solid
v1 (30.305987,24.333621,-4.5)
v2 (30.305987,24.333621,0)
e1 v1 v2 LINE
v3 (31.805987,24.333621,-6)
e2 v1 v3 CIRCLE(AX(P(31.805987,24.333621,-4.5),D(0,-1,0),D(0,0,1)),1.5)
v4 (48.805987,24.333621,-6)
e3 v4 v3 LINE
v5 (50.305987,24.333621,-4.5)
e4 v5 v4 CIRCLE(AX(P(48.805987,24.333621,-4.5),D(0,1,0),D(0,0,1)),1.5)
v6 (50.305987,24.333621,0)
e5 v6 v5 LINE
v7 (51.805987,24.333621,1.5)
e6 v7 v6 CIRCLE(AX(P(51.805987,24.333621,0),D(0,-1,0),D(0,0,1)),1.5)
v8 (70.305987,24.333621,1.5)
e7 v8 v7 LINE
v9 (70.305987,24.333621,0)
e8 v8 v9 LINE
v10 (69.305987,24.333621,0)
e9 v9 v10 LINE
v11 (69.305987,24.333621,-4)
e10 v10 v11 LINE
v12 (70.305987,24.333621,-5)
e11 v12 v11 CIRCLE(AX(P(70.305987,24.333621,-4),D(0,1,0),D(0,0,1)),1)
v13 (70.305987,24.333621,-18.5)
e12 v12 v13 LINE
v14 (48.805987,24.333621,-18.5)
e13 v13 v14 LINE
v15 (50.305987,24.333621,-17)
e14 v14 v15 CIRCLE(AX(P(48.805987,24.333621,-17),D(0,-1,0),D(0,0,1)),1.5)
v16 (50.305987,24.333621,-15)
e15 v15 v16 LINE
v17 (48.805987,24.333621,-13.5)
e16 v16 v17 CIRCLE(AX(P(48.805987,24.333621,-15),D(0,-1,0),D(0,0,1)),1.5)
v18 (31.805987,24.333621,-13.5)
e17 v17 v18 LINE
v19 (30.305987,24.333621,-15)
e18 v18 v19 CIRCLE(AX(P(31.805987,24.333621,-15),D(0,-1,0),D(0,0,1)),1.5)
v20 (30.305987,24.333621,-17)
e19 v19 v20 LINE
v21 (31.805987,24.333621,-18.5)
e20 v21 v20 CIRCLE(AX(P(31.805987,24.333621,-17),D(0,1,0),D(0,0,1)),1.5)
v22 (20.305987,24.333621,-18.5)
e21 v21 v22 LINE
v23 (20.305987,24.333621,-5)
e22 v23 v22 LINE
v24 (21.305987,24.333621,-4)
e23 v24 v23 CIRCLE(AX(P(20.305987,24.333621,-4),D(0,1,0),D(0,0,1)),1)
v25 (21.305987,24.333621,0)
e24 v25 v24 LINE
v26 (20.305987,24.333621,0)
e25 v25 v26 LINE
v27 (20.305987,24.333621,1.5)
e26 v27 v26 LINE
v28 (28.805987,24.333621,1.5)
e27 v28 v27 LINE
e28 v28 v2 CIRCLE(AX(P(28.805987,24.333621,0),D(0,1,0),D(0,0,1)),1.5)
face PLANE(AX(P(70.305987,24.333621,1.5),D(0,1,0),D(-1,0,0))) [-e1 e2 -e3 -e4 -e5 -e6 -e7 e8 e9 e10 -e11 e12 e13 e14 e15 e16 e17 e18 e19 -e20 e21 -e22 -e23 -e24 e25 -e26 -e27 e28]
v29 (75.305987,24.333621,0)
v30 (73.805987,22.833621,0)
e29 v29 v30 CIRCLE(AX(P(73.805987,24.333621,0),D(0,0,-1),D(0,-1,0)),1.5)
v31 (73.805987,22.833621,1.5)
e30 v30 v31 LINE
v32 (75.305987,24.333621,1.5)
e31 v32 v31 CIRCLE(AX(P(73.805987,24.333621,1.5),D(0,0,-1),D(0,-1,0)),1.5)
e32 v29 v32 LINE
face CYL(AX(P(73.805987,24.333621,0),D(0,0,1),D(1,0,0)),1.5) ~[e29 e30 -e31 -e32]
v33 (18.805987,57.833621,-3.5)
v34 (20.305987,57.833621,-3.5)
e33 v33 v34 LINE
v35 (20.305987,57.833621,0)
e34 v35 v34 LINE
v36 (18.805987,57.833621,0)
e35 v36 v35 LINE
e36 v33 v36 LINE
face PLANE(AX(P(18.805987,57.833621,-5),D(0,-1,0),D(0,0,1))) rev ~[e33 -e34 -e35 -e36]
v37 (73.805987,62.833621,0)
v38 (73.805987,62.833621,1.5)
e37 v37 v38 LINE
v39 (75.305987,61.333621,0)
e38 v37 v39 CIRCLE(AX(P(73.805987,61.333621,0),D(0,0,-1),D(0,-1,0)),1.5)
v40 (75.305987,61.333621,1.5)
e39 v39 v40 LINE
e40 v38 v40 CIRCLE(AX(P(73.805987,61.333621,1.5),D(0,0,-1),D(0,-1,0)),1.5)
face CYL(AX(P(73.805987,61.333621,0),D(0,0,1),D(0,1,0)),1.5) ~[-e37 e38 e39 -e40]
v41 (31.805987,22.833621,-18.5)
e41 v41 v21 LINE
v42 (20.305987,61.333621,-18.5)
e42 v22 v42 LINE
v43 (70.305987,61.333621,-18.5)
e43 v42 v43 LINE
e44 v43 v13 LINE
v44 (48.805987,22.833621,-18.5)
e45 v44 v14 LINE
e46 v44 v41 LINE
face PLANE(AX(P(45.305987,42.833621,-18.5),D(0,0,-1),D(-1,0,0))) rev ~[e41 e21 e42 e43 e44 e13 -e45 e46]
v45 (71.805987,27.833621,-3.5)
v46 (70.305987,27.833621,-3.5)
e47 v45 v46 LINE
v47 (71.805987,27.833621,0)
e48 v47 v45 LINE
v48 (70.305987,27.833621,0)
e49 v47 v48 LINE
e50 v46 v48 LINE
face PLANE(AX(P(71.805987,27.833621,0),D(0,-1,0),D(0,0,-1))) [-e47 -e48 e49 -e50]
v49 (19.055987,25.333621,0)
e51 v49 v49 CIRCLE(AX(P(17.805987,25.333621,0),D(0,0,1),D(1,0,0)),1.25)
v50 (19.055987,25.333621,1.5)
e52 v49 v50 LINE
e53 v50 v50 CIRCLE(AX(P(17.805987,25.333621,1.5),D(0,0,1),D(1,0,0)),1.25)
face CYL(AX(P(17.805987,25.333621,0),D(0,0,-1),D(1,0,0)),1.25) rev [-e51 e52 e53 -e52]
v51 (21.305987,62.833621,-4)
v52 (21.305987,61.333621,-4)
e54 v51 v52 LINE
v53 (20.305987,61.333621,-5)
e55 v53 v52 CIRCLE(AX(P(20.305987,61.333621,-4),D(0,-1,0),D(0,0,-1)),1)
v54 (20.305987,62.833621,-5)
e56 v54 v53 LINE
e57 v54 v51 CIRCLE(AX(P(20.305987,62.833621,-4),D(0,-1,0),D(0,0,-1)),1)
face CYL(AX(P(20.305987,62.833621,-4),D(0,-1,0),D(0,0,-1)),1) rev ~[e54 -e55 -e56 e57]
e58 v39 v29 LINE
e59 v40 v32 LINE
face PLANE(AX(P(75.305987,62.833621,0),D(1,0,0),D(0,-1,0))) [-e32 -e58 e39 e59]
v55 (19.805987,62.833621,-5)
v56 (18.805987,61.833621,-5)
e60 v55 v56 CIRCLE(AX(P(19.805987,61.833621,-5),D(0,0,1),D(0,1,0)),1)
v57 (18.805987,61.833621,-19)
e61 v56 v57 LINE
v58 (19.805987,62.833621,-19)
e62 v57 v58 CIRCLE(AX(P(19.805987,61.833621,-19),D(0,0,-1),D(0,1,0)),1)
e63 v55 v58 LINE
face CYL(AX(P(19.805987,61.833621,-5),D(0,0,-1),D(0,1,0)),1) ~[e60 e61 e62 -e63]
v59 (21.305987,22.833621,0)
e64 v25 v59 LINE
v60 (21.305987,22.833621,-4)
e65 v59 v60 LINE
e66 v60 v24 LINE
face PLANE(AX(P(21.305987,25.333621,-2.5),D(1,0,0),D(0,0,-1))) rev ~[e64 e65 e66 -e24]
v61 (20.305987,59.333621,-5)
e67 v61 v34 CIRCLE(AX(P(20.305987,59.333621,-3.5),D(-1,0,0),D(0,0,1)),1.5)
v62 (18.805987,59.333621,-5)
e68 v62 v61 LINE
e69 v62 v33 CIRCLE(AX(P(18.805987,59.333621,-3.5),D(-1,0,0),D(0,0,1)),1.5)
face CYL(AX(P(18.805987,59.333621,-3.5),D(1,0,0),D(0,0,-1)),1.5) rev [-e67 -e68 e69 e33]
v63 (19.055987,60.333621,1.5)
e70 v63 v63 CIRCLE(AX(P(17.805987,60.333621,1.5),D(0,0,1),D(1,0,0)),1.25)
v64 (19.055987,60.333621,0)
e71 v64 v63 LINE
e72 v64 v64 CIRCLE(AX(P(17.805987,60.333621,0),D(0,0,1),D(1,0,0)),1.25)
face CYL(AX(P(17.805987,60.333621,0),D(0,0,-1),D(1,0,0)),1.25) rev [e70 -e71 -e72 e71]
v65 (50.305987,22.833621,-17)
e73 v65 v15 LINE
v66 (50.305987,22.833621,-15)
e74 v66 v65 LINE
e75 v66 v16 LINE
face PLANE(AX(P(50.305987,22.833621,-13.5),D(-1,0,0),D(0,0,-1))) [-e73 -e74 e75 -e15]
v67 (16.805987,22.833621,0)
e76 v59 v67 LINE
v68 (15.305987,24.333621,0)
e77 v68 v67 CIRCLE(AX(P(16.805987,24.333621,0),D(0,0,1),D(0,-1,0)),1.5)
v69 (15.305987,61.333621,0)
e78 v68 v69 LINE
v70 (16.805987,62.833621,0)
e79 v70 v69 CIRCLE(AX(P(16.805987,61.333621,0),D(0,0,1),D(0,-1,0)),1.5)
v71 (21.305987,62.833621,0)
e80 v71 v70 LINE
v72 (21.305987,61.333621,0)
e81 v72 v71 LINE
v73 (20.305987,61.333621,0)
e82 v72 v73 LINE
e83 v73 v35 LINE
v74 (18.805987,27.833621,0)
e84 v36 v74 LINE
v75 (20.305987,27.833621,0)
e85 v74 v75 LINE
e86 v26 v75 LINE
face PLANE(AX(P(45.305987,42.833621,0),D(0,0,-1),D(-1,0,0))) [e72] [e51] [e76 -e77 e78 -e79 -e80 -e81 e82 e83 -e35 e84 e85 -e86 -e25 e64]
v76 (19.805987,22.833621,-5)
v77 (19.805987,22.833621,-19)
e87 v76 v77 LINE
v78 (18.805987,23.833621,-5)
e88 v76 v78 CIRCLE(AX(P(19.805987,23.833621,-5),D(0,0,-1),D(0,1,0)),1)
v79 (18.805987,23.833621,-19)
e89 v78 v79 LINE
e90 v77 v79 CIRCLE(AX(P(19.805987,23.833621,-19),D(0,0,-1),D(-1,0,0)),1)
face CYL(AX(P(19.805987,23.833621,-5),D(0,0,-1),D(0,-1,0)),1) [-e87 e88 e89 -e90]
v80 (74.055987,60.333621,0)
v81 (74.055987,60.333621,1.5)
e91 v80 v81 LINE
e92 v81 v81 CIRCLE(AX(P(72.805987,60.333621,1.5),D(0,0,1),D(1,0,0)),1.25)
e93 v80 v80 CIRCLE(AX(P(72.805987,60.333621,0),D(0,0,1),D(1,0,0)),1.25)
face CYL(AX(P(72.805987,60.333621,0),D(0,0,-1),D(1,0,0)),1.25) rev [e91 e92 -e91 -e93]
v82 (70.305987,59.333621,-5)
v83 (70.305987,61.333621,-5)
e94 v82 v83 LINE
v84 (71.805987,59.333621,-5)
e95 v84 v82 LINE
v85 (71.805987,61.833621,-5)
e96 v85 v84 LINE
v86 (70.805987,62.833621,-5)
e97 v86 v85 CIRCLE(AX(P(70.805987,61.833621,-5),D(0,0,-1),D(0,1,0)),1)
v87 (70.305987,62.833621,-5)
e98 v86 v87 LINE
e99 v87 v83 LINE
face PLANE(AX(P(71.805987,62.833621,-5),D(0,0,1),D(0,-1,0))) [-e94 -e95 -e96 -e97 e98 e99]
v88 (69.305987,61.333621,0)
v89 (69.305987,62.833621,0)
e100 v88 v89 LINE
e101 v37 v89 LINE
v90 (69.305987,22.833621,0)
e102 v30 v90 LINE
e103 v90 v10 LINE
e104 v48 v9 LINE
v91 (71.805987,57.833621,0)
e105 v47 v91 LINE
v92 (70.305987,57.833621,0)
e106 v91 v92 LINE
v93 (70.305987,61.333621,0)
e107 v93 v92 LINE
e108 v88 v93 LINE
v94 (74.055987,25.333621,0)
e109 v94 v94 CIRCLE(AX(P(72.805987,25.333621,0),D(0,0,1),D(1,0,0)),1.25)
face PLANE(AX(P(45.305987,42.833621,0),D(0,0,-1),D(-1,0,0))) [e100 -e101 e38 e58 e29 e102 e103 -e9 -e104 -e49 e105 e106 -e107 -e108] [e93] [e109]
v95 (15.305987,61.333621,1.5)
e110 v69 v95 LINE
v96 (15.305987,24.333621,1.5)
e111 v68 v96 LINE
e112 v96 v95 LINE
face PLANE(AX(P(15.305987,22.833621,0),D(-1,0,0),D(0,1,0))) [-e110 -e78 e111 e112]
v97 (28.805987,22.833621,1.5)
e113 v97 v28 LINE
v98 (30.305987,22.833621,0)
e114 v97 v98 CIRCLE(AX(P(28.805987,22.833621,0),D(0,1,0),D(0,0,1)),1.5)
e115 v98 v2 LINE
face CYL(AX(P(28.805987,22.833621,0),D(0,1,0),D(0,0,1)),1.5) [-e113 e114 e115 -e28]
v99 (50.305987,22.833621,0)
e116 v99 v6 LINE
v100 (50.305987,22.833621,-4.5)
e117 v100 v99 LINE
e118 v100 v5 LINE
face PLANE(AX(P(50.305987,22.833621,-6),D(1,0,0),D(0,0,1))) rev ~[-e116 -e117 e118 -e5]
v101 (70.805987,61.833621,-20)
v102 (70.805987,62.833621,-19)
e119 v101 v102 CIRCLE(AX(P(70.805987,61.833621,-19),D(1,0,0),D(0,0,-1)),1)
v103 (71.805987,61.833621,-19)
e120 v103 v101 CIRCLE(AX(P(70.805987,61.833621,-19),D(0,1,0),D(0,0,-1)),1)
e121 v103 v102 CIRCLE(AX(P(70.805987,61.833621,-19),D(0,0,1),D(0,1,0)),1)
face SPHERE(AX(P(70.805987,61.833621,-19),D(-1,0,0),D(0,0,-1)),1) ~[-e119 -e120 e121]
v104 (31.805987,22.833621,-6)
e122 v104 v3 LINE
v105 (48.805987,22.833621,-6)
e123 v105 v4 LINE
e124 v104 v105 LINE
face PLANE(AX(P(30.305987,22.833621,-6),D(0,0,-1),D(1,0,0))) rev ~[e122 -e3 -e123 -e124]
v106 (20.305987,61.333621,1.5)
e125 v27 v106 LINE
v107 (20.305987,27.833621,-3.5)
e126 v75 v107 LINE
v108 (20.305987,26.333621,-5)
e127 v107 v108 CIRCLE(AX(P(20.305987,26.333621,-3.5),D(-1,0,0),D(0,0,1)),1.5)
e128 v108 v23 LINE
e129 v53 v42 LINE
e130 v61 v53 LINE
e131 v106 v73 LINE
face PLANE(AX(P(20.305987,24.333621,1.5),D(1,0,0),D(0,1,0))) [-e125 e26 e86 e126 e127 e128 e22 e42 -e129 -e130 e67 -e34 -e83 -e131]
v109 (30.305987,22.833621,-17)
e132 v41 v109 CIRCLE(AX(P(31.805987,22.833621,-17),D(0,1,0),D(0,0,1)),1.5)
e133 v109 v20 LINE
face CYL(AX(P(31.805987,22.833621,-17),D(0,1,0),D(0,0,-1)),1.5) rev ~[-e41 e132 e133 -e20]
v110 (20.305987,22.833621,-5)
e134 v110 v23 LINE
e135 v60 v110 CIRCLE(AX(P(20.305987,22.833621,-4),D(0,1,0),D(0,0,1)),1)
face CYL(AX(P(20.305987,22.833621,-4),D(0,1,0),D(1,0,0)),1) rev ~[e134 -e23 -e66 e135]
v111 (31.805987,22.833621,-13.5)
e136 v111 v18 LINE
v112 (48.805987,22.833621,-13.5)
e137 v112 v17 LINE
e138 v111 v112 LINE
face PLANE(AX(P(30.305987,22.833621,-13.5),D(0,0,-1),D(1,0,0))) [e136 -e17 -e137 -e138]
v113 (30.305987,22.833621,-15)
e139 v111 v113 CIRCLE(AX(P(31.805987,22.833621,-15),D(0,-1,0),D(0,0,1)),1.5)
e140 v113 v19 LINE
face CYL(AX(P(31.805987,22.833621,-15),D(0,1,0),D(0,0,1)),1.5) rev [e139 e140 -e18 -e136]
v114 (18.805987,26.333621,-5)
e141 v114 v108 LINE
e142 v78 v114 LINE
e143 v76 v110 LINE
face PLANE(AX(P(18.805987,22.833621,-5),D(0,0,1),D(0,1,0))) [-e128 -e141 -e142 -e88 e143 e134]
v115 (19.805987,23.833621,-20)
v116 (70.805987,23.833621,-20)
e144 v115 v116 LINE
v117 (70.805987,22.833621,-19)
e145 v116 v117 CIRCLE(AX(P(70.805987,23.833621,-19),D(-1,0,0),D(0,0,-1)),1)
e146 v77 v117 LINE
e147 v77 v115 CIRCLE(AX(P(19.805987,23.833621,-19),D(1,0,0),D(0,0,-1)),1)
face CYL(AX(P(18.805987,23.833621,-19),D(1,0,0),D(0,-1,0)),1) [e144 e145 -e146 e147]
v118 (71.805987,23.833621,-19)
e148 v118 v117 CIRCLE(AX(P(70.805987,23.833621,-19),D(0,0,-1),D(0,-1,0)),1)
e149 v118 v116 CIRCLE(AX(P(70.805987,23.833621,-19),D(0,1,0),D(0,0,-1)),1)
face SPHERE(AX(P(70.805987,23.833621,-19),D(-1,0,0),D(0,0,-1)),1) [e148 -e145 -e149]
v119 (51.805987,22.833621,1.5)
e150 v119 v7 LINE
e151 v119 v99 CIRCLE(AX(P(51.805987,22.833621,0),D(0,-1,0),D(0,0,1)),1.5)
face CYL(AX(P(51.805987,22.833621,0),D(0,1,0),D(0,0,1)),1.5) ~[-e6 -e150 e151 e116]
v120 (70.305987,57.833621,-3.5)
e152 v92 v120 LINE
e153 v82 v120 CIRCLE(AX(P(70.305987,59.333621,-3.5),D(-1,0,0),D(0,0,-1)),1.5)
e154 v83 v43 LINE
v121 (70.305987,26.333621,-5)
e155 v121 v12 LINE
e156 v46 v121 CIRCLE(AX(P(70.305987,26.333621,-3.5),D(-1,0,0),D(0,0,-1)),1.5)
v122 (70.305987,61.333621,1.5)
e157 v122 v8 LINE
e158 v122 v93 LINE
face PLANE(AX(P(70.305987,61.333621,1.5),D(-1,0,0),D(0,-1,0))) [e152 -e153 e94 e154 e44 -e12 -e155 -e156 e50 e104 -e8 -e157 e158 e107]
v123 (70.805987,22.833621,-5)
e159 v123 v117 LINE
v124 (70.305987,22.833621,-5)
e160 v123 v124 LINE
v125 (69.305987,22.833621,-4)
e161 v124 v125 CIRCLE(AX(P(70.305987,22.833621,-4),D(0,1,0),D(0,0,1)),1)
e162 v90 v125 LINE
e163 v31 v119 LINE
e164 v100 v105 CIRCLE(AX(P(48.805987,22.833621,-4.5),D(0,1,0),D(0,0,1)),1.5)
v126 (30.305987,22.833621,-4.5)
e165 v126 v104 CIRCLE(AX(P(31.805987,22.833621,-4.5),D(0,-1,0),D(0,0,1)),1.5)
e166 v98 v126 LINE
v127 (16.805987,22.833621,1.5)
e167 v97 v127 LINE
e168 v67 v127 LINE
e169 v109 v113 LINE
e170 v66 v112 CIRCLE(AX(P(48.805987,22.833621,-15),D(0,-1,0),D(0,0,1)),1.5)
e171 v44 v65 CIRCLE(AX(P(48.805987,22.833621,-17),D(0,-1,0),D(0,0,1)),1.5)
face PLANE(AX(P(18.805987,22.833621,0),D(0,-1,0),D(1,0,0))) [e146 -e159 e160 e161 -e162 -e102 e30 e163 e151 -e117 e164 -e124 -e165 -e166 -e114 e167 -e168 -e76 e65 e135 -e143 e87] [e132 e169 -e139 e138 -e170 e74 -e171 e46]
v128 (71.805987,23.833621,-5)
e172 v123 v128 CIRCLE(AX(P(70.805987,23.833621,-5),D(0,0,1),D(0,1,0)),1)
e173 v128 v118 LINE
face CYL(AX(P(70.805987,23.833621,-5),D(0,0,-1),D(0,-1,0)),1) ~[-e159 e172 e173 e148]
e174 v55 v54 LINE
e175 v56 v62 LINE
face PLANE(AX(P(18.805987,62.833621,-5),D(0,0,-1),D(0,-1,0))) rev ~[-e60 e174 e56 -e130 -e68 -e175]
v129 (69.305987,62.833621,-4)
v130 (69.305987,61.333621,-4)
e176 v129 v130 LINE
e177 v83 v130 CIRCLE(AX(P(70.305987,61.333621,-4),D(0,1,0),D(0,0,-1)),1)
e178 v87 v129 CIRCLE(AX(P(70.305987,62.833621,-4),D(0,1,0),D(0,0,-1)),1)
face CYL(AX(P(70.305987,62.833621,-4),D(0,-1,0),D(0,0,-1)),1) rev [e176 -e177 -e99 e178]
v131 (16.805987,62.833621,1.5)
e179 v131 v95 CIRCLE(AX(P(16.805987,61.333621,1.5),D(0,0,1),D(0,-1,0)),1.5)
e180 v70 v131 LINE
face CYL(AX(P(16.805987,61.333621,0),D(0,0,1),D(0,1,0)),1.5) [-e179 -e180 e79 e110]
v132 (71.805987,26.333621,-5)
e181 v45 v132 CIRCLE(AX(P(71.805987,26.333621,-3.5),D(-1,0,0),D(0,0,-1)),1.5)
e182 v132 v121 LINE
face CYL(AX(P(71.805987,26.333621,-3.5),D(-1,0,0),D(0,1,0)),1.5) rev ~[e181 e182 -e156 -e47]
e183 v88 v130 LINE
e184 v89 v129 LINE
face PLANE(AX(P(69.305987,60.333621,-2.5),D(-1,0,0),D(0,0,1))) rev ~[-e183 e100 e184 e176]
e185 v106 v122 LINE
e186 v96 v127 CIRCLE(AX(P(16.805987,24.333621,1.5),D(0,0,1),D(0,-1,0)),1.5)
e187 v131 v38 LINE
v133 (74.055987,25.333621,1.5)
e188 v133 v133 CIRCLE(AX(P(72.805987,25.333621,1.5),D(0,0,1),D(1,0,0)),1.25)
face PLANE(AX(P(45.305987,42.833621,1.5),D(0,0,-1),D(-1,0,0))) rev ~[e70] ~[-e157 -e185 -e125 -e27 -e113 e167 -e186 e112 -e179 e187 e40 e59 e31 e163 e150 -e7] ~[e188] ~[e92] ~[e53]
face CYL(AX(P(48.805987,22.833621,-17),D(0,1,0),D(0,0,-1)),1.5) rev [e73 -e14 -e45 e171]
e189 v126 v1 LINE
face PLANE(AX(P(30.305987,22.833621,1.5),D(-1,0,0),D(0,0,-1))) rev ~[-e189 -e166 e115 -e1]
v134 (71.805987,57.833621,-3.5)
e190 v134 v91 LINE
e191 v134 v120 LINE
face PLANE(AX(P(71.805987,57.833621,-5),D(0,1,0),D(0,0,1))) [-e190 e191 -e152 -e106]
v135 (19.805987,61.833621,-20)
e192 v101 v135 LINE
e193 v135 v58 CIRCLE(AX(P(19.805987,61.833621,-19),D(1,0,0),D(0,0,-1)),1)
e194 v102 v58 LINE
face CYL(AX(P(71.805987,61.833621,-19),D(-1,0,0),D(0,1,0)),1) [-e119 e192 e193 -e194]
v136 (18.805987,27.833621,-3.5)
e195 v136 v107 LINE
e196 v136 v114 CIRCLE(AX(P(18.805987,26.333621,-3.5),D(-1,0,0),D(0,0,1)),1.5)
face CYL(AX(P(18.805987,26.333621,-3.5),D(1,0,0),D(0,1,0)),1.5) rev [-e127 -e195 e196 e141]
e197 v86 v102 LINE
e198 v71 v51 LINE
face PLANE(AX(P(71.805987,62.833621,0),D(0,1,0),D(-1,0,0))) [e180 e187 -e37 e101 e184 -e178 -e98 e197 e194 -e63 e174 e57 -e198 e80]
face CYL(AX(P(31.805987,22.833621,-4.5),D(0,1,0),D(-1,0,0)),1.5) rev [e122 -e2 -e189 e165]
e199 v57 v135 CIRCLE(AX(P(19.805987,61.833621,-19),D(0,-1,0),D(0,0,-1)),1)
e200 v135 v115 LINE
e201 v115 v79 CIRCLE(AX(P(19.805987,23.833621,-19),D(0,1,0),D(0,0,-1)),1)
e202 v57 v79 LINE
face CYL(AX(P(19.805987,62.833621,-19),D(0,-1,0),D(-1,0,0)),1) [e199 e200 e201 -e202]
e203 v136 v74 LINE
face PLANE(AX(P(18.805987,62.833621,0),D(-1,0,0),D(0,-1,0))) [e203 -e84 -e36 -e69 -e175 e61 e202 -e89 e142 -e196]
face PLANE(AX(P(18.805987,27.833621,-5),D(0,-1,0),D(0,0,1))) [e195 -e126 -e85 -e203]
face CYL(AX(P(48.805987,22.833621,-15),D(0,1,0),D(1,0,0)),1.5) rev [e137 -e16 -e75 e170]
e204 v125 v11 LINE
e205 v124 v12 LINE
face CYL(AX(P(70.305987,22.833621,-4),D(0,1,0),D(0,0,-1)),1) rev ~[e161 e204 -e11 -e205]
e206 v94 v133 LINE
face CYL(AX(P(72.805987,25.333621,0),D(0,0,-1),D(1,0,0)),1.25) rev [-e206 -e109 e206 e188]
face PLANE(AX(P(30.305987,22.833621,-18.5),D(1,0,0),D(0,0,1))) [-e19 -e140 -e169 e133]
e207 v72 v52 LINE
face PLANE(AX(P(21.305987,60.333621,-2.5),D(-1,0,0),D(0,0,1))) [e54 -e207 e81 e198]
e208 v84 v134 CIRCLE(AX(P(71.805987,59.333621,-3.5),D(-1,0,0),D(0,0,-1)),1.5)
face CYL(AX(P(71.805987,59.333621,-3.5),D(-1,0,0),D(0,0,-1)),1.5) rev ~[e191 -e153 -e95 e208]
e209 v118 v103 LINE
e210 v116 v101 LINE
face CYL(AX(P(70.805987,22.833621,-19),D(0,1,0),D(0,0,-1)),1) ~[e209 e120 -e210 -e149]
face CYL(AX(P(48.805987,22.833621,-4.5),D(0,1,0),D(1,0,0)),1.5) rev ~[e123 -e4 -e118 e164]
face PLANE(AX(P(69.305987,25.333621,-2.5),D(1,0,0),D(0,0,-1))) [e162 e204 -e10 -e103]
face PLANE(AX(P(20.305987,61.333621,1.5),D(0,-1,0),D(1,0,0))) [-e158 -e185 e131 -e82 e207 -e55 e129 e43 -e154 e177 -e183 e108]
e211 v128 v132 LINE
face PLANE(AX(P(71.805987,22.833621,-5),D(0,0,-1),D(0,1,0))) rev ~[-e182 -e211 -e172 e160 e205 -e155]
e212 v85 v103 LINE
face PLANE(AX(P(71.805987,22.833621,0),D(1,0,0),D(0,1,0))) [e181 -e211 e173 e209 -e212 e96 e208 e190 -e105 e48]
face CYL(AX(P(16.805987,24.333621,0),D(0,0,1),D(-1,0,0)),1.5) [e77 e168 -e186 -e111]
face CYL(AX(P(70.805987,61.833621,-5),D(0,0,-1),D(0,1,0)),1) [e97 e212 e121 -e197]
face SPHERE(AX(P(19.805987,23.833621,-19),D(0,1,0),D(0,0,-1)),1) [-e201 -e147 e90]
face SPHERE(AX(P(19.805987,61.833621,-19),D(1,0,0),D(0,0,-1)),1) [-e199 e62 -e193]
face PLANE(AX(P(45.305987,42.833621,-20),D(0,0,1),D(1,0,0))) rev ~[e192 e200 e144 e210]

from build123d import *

# Parameters (mm, degrees)
SKETCH2_R           = 1.2500000000000047
SKETCH2_R_2         = 1.2499999999999978
BOSS_EXTRUDE3_DEPTH = 1.5
BOSS_EXTRUDE4_DEPTH = 20
CUT_EXTRUDE4_DEPTH  = 20
CUT_EXTRUDE8_DEPTH  = 2.5
SKETCH12_W          = 5.000000000000005
SKETCH12_H          = 4.999999999999993
CUT_EXTRUDE9_DEPTH  = 2.5
CUT_EXTRUDE11_DEPTH = 5
FILLET6_R           = 1.5
FILLET7_R           = 1


with BuildPart() as part:
    # Sketch2 → Boss-Extrude3 (new body)
    with BuildSketch(Plane.XY):
        Polygon((15.305986754735851, 62.83362130987144), (75.30598675473586, 62.83362130987144), (75.30598675473586, 22.83362130987144), (15.305986754735857, 22.83362130987144), align=None)
        with Locations((17.80598675473585, 60.33362130987144)):
            Circle(SKETCH2_R, mode=Mode.SUBTRACT)
        with Locations((17.80598675473585, 25.333621309871436)):
            Circle(SKETCH2_R_2, mode=Mode.SUBTRACT)
        with Locations((72.80598675473584, 25.33362130987144)):
            Circle(SKETCH2_R_2, mode=Mode.SUBTRACT)
        with Locations((72.80598675473584, 60.33362130987144)):
            Circle(SKETCH2_R_2, mode=Mode.SUBTRACT)
    extrude(amount=BOSS_EXTRUDE3_DEPTH)

    # Sketch3 → Boss-Extrude4 (add)
    with BuildSketch(Plane(origin=(0, 0, 0), x_dir=(-1, 0, 0), z_dir=(0, 0, -1))):
        Polygon((-71.80598675473584, 62.83362130987144), (-18.805986754735855, 62.83362130987144), (-18.805986754735848, 22.83362130987144), (-71.80598675473584, 22.83362130987144), align=None)
    extrude(amount=BOSS_EXTRUDE4_DEPTH)

    # Sketch7 → Cut-Extrude4 (cut)
    with BuildSketch(Plane.XY.offset(1.5)):
        Polygon((20.30598675473585, 61.33362130987144), (70.30598675473584, 61.33362130987144), (70.30598675473584, 24.33362130987144), (20.305986754735855, 24.33362130987144), align=None)
    extrude(amount=-CUT_EXTRUDE4_DEPTH, mode=Mode.SUBTRACT)

    # Sketch11 → Cut-Extrude8 (cut)
    with BuildSketch(Plane.ZY.offset(-18.805986754735844)):
        Polygon((0, 62.83362130987144), (-5, 62.83362130987144), (-4.999999999999999, 57.83362130987144), (6.1e-16, 57.83362130987144), align=None)
        Polygon((0, 22.833621309871443), (-4.999999999999999, 22.833621309871443), (-4.999999999999996, 27.83362130987144), (0, 27.83362130987144), align=None)
    extrude(amount=-CUT_EXTRUDE8_DEPTH, mode=Mode.SUBTRACT)

    # Sketch12 → Cut-Extrude9 (cut)
    with BuildSketch(Plane(origin=(71.80598675473584, 0, 0), x_dir=(0, 0, -1), z_dir=(1, 0, 0))):
        Polygon((0, 62.83362130987144), (5, 62.83362130987144), (5.000000000000001, 57.83362130987144), (6.1e-16, 57.83362130987144), align=None)
        with Locations((2.5000000000000027, 25.333621309871436)):
            Rectangle(SKETCH12_W, SKETCH12_H)
    extrude(amount=-CUT_EXTRUDE9_DEPTH, mode=Mode.SUBTRACT)

    # Sketch15 → Cut-Extrude11 (cut)
    with BuildSketch(Plane.XZ.offset(-22.83362130987144)):
        Polygon((50.30598675473586, 1.5), (30.30598675473586, 1.4999999999999971), (30.30598675473586, -6.000000000000003), (50.30598675473586, -6), align=None)
        Polygon((50.30598675473587, -18.5), (30.305986754735855, -18.500000000000004), (30.30598675473586, -13.500000000000002), (50.30598675473587, -13.499999999999998), align=None)
    extrude(amount=-CUT_EXTRUDE11_DEPTH, mode=Mode.SUBTRACT)

    # Fillet6
    fillet6_edges = [part.edges().sort_by_distance(p)[0] for p in [
        (71.05598675473584, 57.83362130987144, -5.000000000000001),
        (71.05598675473584, 27.833621309871436, -5.000000000000005),
        (50.30598675473586, 23.58362130987144, 1.5),
        (50.30598675473586, 23.58362130987144, -6),
        (30.30598675473586, 23.58362130987144, -6.000000000000003),
        (30.30598675473586, 23.58362130987144, 1.4999999999999971),
        (50.30598675473587, 23.58362130987144, -18.5),
        (30.30598675473586, 23.58362130987144, -13.500000000000002),
        (50.30598675473587, 23.58362130987144, -13.499999999999998),
        (30.305986754735855, 23.58362130987144, -18.500000000000004),
        (15.305986754735851, 62.83362130987144, 0.75),
        (75.30598675473586, 62.83362130987144, 0.75),
        (75.30598675473586, 22.83362130987144, 0.75),
        (19.555986754735855, 57.83362130987144, -4.999999999999999),
        (15.305986754735857, 22.83362130987144, 0.75),
        (19.555986754735855, 27.833621309871436, -4.999999999999996),
    ]]
    fillet(fillet6_edges, radius=FILLET6_R)

    # Fillet7
    fillet7_edges = [part.edges().sort_by_distance(p)[0] for p in [
        (45.30598675473585, 62.83362130987144, -20),
        (18.80598675473585, 42.83362130987144, -20),
        (45.30598675473584, 22.83362130987144, -20),
        (71.80598675473584, 42.83362130987144, -20),
        (21.305986754735848, 23.58362130987144, -4.999999999999998),
        (69.30598675473584, 23.58362130987144, -5.000000000000005),
        (69.30598675473584, 62.08362130987144, -5),
        (21.305986754735855, 62.08362130987144, -5),
        (71.80598675473584, 62.83362130987144, -12.5),
        (18.805986754735855, 62.83362130987144, -12.5),
        (71.80598675473584, 22.83362130987144, -12.500000000000004),
        (18.805986754735848, 22.83362130987144, -12.5),
    ]]
    fillet(fillet7_edges, radius=FILLET7_R)


solid = part.part
